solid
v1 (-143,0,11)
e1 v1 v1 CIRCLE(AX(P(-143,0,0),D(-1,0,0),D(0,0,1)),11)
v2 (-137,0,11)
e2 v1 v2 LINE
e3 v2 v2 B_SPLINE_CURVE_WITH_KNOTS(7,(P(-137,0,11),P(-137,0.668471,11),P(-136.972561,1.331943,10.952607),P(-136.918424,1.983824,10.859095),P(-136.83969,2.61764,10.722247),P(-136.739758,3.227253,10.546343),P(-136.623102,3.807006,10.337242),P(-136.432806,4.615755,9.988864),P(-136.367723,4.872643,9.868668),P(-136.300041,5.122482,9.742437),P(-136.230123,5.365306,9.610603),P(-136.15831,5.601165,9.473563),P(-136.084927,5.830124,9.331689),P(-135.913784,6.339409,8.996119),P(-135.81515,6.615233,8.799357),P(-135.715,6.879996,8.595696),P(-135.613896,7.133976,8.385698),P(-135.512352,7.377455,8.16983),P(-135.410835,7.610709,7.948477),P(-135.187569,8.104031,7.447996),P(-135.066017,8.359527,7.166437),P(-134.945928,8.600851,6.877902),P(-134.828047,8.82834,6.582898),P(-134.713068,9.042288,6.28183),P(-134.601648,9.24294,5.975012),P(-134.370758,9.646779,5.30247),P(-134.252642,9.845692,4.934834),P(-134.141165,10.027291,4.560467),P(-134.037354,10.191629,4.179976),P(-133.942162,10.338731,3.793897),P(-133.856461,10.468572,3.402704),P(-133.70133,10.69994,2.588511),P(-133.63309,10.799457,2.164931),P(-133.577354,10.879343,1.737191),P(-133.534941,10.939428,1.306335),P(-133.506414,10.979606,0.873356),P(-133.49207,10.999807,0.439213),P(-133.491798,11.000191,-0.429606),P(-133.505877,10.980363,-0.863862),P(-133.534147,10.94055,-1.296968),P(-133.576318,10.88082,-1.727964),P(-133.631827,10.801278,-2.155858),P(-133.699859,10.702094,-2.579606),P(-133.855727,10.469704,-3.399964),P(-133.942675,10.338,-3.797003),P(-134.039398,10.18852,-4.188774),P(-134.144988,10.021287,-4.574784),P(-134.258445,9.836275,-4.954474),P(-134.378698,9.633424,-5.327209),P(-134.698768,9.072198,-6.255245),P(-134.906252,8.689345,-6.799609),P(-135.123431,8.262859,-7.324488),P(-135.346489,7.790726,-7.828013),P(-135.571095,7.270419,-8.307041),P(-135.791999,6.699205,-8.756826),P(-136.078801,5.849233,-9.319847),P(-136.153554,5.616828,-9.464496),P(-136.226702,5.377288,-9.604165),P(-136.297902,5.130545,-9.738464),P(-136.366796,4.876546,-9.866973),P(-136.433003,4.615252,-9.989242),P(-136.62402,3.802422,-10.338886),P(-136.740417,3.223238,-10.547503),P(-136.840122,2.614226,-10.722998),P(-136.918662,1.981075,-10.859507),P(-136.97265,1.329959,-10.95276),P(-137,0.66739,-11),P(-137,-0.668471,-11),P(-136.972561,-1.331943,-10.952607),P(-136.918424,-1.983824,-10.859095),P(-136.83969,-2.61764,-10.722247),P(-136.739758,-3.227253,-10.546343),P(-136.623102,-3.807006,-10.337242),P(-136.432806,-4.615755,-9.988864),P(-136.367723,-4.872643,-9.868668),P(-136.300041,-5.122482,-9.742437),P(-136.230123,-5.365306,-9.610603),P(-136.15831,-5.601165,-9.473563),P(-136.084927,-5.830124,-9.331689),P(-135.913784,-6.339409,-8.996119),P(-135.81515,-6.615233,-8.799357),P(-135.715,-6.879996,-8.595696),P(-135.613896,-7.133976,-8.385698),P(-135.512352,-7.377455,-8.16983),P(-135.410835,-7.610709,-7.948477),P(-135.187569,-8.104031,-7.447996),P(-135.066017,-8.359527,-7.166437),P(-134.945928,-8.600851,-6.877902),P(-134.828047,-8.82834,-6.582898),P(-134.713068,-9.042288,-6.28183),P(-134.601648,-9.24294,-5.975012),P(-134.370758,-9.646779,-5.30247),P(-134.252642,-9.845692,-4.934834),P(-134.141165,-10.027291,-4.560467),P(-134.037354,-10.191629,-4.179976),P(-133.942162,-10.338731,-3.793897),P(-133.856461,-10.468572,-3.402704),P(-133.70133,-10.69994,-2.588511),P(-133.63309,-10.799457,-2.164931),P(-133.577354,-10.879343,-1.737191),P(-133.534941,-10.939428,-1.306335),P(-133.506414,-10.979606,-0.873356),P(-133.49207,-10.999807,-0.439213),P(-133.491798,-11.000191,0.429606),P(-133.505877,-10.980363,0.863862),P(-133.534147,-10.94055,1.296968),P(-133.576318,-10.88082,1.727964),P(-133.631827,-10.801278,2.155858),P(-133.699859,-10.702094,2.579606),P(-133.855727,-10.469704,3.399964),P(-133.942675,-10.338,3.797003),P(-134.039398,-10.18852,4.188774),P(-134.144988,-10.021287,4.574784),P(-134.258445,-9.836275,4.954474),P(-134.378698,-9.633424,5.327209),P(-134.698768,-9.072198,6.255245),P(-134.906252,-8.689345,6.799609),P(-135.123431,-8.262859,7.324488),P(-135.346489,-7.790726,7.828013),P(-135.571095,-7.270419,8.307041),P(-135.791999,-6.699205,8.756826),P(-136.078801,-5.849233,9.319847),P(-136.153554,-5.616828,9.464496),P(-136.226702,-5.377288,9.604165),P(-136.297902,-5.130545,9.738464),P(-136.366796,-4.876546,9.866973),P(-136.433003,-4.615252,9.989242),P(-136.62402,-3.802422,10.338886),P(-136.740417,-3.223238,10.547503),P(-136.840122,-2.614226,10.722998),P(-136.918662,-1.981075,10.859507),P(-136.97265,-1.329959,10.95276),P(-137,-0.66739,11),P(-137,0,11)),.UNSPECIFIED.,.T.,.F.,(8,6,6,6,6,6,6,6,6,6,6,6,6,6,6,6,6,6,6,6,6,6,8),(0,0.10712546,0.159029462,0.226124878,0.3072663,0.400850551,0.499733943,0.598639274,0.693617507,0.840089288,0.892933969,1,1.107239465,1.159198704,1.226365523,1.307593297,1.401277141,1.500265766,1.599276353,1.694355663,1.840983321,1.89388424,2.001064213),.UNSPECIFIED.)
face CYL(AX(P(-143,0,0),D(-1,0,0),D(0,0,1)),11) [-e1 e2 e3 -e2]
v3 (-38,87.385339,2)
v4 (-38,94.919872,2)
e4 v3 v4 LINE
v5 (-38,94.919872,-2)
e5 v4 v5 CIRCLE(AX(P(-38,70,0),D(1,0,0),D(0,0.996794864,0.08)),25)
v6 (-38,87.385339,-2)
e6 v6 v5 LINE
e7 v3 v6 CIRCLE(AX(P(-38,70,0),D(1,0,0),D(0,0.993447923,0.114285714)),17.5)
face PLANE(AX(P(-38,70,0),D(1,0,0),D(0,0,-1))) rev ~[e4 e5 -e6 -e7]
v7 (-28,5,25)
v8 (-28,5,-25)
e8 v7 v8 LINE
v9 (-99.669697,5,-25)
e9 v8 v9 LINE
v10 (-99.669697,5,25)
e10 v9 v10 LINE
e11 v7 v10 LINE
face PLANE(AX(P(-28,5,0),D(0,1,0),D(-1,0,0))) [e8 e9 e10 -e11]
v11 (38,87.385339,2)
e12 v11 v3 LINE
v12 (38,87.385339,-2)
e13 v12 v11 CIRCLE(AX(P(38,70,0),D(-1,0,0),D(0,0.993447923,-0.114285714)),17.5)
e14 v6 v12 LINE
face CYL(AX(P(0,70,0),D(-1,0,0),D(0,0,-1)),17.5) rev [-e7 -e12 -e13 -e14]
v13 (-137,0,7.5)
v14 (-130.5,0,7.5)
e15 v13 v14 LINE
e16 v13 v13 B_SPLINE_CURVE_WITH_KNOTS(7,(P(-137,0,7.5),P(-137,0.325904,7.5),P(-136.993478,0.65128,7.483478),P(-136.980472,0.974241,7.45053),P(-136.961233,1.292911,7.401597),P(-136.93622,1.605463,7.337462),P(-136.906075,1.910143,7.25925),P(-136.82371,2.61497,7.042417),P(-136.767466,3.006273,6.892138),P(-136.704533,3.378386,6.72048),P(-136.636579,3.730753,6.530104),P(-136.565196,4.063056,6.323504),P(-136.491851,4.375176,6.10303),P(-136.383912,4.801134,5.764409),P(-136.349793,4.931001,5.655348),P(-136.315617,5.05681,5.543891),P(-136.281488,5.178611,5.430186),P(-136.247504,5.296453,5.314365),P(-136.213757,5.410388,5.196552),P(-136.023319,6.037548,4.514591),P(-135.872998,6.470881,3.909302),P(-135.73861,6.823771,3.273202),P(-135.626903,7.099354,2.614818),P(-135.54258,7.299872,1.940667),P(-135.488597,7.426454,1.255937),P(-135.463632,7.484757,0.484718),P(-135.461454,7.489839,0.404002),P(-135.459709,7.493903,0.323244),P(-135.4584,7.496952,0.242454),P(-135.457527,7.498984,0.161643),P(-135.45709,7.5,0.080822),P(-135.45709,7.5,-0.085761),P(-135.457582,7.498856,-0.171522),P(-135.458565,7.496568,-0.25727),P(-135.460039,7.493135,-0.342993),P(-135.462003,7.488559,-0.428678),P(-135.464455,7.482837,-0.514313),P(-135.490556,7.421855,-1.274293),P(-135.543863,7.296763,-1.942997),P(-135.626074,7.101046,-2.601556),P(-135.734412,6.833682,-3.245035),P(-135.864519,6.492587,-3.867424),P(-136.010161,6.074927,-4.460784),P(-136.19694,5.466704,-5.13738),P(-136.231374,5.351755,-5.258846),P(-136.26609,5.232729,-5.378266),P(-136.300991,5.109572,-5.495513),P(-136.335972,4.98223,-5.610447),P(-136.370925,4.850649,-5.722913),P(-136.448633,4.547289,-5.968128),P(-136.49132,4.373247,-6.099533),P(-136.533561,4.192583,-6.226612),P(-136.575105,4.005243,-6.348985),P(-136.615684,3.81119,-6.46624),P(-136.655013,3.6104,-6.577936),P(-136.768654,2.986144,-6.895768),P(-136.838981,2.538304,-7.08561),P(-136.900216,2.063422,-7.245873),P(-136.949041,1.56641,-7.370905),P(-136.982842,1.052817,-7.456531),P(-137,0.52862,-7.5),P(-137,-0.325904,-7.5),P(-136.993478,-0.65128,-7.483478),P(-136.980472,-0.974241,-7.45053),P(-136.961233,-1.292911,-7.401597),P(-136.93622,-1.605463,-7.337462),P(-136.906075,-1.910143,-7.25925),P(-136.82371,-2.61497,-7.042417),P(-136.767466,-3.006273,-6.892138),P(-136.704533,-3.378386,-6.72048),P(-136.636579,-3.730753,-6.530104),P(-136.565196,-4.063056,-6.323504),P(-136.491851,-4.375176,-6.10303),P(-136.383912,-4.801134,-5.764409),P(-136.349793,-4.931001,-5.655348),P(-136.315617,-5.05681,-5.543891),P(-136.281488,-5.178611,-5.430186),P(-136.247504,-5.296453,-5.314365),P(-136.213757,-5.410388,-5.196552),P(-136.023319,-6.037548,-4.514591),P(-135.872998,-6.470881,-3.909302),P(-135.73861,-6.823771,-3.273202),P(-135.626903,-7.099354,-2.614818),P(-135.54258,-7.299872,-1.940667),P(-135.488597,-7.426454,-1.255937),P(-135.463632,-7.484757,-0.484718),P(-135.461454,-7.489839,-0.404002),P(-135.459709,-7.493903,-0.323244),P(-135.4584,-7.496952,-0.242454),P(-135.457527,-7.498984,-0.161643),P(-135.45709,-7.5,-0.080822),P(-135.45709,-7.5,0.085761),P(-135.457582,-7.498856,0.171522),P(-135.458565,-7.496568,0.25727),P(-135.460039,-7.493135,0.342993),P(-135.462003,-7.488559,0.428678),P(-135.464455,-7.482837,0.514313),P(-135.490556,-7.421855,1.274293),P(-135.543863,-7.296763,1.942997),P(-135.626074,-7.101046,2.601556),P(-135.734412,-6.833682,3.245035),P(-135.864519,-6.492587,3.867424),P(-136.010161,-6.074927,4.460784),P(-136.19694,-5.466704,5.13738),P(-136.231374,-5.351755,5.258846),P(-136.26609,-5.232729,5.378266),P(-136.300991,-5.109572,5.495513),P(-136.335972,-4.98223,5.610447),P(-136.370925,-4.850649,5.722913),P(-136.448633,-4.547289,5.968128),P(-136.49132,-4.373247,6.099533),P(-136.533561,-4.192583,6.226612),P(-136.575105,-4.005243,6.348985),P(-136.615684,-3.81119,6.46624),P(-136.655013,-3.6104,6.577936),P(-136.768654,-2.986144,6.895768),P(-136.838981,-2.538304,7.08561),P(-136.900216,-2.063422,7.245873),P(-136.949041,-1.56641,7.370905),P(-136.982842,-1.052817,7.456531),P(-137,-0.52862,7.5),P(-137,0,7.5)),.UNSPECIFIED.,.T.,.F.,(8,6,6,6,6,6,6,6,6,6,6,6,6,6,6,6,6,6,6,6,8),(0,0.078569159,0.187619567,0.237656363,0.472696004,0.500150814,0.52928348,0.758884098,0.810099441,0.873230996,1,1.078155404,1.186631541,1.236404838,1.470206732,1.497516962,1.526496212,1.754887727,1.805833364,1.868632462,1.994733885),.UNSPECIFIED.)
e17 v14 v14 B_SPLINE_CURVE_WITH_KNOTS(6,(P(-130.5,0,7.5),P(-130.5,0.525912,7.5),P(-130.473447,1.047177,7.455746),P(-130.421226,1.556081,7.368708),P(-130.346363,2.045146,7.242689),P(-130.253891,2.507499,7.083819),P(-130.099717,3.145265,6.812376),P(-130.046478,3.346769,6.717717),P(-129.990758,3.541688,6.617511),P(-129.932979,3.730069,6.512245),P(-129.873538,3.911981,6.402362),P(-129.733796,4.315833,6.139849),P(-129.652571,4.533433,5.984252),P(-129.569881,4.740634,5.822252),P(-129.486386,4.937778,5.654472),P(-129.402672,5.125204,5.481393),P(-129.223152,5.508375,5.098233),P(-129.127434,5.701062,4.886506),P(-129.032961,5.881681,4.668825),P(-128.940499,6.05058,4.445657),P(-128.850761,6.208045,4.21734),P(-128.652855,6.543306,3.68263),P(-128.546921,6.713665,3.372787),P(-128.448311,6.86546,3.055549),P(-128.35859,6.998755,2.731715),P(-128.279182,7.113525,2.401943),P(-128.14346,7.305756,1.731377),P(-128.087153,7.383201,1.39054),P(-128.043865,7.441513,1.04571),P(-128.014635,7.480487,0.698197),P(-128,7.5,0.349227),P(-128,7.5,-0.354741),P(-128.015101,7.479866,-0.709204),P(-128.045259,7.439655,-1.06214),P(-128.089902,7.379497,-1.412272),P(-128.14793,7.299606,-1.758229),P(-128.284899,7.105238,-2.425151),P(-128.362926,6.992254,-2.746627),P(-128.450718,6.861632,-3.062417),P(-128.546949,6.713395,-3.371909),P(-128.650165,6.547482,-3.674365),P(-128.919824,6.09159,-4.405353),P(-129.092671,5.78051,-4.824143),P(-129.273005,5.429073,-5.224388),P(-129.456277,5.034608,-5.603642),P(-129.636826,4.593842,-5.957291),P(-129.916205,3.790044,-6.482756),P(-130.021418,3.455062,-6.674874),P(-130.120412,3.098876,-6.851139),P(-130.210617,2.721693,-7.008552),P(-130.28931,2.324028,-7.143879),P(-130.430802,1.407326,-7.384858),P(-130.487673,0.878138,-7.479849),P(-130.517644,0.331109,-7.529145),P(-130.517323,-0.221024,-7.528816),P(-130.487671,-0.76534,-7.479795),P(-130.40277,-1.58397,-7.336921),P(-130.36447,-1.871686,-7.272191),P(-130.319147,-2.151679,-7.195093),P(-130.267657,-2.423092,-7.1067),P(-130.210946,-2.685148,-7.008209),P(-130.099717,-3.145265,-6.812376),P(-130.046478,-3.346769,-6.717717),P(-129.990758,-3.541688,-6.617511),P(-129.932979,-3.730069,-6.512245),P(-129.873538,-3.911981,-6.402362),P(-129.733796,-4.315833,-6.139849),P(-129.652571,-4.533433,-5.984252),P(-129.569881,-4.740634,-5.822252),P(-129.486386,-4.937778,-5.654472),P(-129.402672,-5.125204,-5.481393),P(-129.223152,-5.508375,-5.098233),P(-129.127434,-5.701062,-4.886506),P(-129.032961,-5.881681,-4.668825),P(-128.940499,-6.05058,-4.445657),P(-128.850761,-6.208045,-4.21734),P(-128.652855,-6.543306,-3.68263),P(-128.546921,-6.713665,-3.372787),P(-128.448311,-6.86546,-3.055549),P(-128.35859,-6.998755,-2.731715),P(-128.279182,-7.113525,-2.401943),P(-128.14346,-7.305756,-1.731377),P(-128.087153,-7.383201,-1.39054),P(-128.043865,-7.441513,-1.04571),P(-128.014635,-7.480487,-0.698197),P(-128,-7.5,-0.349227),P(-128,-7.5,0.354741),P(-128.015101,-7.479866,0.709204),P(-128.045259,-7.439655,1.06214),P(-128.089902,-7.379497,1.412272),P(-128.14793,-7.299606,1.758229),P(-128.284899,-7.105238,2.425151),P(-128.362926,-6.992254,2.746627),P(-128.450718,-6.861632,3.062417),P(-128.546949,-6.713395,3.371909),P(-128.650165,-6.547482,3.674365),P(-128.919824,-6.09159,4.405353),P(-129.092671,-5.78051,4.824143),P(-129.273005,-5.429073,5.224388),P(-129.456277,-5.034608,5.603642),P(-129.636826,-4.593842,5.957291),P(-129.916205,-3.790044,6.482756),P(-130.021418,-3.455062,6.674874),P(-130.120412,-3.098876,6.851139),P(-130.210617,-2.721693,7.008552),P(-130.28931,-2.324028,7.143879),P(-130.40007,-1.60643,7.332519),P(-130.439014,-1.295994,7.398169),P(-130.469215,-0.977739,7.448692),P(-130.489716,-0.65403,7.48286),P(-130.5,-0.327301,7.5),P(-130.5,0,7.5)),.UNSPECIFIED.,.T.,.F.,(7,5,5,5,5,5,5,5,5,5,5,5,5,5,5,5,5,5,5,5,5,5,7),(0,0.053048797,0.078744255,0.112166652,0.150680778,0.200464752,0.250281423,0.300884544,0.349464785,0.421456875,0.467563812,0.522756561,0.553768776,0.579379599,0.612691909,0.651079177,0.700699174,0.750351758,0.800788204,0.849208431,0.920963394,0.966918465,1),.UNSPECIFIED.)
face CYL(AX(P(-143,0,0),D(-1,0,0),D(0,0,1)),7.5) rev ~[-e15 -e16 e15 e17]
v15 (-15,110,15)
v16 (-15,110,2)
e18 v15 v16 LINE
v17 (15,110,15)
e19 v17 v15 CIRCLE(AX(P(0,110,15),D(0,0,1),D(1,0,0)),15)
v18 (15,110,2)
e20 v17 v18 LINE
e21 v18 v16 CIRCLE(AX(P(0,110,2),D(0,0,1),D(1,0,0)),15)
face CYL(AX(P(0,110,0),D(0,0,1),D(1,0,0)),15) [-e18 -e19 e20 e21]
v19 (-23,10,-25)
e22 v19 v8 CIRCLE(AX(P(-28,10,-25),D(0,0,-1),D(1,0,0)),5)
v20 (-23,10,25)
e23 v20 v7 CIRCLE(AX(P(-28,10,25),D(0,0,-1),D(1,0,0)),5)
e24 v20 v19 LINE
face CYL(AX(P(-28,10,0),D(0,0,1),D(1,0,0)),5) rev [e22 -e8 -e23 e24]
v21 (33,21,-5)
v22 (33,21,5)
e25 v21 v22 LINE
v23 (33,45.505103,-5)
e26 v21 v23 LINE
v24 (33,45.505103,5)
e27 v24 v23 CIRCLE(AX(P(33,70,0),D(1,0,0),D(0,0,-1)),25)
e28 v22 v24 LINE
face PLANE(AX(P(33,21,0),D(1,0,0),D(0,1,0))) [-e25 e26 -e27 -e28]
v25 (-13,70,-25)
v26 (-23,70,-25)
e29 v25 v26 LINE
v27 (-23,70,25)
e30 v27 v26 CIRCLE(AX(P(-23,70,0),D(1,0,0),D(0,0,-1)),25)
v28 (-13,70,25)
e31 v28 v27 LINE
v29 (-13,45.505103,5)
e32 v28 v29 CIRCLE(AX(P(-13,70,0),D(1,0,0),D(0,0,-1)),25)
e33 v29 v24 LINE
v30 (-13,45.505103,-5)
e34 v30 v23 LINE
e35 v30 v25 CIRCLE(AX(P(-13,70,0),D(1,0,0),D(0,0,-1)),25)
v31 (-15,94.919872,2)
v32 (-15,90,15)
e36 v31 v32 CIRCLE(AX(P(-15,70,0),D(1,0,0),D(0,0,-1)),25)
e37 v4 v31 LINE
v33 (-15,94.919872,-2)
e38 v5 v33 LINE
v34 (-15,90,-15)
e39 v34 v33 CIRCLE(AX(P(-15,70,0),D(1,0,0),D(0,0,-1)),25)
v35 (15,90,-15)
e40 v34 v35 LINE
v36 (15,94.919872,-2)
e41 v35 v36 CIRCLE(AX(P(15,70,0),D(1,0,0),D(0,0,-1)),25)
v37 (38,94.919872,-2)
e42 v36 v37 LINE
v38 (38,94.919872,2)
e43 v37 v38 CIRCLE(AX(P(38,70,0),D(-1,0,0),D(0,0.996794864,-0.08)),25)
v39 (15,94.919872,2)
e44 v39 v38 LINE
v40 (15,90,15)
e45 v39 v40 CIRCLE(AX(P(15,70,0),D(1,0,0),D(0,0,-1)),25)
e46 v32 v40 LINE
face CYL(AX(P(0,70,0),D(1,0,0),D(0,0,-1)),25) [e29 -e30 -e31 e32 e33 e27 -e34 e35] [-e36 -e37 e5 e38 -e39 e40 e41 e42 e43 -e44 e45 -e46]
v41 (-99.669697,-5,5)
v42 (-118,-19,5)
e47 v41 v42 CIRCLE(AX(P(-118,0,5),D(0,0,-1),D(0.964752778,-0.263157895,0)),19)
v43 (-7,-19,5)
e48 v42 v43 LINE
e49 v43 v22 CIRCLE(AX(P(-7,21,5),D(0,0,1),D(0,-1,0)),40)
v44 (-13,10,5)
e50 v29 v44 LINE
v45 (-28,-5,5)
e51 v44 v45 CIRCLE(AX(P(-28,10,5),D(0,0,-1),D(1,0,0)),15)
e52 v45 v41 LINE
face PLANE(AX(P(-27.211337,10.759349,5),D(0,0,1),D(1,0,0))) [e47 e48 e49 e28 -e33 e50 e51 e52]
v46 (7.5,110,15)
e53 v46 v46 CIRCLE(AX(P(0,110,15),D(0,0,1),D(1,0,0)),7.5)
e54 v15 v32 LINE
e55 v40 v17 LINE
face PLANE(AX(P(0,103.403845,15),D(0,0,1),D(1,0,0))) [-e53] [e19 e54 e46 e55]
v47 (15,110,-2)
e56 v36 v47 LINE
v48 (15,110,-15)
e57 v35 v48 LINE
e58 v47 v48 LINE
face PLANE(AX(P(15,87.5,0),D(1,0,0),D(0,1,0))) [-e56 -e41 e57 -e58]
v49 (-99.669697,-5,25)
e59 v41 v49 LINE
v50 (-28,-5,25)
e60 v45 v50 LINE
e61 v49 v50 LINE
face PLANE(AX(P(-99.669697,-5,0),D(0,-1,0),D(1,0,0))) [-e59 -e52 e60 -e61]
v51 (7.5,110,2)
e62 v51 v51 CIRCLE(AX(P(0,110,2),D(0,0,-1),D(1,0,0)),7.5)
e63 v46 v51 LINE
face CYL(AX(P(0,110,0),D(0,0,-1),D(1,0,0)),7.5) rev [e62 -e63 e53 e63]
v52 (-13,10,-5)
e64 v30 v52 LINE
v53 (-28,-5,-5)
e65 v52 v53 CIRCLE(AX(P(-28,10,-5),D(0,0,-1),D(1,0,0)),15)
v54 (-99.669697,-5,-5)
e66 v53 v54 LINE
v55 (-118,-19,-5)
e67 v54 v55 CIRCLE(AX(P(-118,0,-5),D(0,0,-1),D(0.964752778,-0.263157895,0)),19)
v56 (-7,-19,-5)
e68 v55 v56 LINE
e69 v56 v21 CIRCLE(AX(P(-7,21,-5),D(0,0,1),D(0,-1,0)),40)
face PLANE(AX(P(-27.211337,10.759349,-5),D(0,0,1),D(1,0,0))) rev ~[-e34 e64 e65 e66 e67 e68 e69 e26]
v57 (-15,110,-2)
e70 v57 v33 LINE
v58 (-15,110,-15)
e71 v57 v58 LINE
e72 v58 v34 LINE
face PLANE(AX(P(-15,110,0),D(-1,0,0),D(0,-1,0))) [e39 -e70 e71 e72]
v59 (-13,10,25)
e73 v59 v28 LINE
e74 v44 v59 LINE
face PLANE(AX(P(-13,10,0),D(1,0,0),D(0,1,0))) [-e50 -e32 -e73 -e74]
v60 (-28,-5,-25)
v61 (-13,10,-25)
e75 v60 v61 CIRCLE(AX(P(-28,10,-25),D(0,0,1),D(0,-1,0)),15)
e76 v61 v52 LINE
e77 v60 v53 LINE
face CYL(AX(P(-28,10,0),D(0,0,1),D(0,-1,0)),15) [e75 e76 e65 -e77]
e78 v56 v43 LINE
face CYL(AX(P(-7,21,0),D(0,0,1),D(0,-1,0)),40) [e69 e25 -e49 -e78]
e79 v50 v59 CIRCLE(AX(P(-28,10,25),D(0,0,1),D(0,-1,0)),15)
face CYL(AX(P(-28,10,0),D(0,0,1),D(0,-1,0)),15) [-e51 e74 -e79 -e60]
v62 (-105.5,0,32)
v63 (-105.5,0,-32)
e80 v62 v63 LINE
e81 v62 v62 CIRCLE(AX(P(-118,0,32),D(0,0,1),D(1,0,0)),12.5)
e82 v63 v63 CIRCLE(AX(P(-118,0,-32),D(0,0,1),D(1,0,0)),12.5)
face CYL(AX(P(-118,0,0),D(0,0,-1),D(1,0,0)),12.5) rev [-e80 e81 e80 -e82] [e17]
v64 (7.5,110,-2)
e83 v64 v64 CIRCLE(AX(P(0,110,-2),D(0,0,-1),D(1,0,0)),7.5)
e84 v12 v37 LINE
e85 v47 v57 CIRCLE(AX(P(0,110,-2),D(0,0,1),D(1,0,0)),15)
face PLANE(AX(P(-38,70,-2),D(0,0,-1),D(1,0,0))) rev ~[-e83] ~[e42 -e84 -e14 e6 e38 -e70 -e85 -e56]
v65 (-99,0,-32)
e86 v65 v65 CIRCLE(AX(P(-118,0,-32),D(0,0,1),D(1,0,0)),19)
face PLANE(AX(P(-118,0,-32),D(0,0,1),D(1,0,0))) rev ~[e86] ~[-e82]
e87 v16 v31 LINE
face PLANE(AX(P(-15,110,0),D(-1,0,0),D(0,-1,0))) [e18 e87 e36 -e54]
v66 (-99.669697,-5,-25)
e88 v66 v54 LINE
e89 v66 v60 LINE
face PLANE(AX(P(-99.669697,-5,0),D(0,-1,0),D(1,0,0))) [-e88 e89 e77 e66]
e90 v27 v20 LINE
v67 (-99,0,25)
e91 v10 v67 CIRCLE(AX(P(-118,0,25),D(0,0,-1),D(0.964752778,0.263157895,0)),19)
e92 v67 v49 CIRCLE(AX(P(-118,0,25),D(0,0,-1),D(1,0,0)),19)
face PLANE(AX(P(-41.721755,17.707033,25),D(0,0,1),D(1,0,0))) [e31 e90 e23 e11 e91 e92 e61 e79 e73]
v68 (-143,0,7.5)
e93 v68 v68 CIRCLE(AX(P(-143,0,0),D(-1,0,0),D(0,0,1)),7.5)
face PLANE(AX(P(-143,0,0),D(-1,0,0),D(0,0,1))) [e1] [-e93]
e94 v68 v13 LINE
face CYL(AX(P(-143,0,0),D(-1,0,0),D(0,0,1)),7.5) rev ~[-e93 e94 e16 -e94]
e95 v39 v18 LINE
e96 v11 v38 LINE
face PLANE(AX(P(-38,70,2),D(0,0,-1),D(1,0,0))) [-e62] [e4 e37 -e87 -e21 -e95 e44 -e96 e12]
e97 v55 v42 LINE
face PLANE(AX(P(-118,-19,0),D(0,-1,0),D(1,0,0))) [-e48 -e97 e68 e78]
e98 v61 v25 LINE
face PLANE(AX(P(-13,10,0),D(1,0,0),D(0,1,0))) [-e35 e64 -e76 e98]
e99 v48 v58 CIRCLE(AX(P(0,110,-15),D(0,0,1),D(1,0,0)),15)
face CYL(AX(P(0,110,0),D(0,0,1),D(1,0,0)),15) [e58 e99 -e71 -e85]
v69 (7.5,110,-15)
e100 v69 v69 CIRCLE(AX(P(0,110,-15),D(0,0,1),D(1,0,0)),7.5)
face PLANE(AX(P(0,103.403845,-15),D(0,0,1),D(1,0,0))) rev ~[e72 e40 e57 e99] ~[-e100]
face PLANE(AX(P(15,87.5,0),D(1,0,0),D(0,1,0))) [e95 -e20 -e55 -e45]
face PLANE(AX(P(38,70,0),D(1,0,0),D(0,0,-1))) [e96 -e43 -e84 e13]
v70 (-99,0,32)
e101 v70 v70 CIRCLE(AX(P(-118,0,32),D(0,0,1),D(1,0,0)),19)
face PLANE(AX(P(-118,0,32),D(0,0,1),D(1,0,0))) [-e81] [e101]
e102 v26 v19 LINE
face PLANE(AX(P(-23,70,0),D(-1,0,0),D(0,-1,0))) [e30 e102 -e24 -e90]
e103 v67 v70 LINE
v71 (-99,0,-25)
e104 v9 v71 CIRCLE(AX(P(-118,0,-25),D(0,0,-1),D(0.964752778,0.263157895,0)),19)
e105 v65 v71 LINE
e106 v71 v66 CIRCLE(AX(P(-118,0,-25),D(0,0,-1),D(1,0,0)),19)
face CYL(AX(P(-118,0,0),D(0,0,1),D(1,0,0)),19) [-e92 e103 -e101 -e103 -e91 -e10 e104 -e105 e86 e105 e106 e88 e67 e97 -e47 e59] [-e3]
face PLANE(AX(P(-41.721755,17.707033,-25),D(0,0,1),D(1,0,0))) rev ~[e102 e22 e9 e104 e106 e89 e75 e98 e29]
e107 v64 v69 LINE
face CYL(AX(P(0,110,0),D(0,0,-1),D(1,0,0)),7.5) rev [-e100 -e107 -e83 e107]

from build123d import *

# Parameters (mm, degrees)
SKETCH_2_R                      = 25
SKETCH_2_R_2                    = 17.5
EXTRUDE_1_DEPTH                 = 38
SKETCH_3_R                      = 7.5
EXTRUDE_2_DEPTH                 = 15
CUT_EXTRUDE_START               = 70
SKETCH_4_W                      = 76
SKETCH_4_H                      = 4
CUT_EXTRUDE_1_DEPTH             = 64.018795664
EXTRUDE_3_DEPTH                 = 25
EXTRUDE_4_DEPTH                 = 5
SKETCH_5_6_R                    = 19
SKETCH_5_6_R_2                  = 12.5
EXTRUDE_5_DEPTH                 = 32
EXTRUDE_6_REACH                 = 224.284
EXTRUDE_6_END_RADIUS            = 19
SKETCH_7_R                      = 11
SKETCH_7_R_2                    = 7.5
CUT_EXTRUDE_2_REACH             = 224.284
SKETCH_7_2_R                    = 7.5
CUT_EXTRUDE_3_REACH             = 194.608
SKETCH_8_R                      = 17.5
CUT_EXTRUDE_3_DIRECTION_2_DEPTH = 193.608411122


with BuildPart() as part:
    # 草图2 → 凸台-拉伸1 (new, symmetric)
    with BuildSketch(Plane(origin=(0, 0, 0), x_dir=(0, 0, -1), z_dir=(1, 0, 0))):
        with Locations((0, 70)):
            Circle(SKETCH_2_R)
        with Locations((0, 70)):
            Circle(SKETCH_2_R_2, mode=Mode.SUBTRACT)
    extrude(amount=EXTRUDE_1_DEPTH, both=True)

    # 草图3 → 凸台-拉伸2 (add, symmetric)
    with BuildSketch(Plane.XY):
        with BuildLine():
            Line((-15, 110), (-15, 87.5))
            Line((-15, 87.5), (15, 87.5))
            Line((15, 87.5), (15, 110))
            ThreePointArc((15, 110), (0, 125), (-15, 110))
        make_face()
        with Locations((0, 110)):
            Circle(SKETCH_3_R, mode=Mode.SUBTRACT)
    extrude(amount=EXTRUDE_2_DEPTH, both=True)

    # 草图4 → 切除-拉伸1 (cut, through all)
    with BuildSketch(Plane(origin=(0, 0, 0), x_dir=(1, 0, 0), z_dir=(0, 1, 0)).offset(CUT_EXTRUDE_START)):
        Rectangle(SKETCH_4_W, SKETCH_4_H)
    extrude(amount=CUT_EXTRUDE_1_DEPTH, mode=Mode.SUBTRACT)

    # 草图5 → 凸台-拉伸3 (add, symmetric)
    with BuildSketch(Plane.XY):
        with BuildLine():
            Line((-28, 5), (-99.66969722, 5))
            ThreePointArc((-99.66969722, 5), (-99.168168533, 2.522325037), (-99, 0))
            ThreePointArc((-99, 0), (-99.168168533, -2.522325037), (-99.66969722, -5))
            Line((-99.66969722, -5), (-28, -5))
            ThreePointArc((-28, -5), (-17.393398282, -0.606601718), (-13, 10))
            Line((-13, 10), (-13, 70))
            Line((-13, 70), (-23, 70))
            Line((-23, 70), (-23, 10))
            ThreePointArc((-23, 10), (-24.464466094, 6.464466094), (-28, 5))
        make_face()
    extrude(amount=EXTRUDE_3_DEPTH, both=True)

    # 草图5<5> → 凸台-拉伸4 (add, symmetric)
    with BuildSketch(Plane.XY):
        with BuildLine():
            ThreePointArc((-99.66969722, -5), (-106.467437405, -15.099668871), (-118, -19))
            Line((-118, -19), (-7, -19))
            ThreePointArc((-7, -19), (21.284271247, -7.284271247), (33, 21))
            Line((33, 21), (33, 70))
            Line((33, 70), (-13, 70))
            Line((-13, 70), (-13, 10))
            ThreePointArc((-13, 10), (-17.393398282, -0.606601718), (-28, -5))
            Line((-28, -5), (-99.66969722, -5))
        make_face()
    extrude(amount=EXTRUDE_4_DEPTH, both=True)

    # 草图5<6> → 凸台-拉伸5 (add, symmetric)
    with BuildSketch(Plane.XY):
        with Locations((-118, 0)):
            Circle(SKETCH_5_6_R)
        with Locations((-118, 0)):
            Circle(SKETCH_5_6_R_2, mode=Mode.SUBTRACT)
    extrude(amount=EXTRUDE_5_DEPTH, both=True)

    # 凸台-拉伸6: up to this cylinder (the profile starts outside it)
    extrude_6_end = Plane(origin=(-118, 0, -10.688873), z_dir=(0, 0, -1)) * Cylinder(EXTRUDE_6_END_RADIUS, 487.568, mode=Mode.PRIVATE)
    # 草图7 → 凸台-拉伸6 (add, up to the surface)
    with BuildSketch(Plane.ZY.offset(143), mode=Mode.PRIVATE) as extrude_6_sk1:
        Circle(SKETCH_7_R)
        Circle(SKETCH_7_R_2, mode=Mode.SUBTRACT)
    extrude_6_tool1 = extrude(extrude_6_sk1.sketch, amount=-EXTRUDE_6_REACH, mode=Mode.PRIVATE) - extrude_6_end
    add(extrude_6_tool1.solids().sort_by_distance((-143, 0, -10.688873))[0])

    # 草图7<2> → 切除-拉伸2 (cut, up to next)
    with BuildSketch(Plane.ZY.offset(143), mode=Mode.PRIVATE) as cut_extrude_2_sk1:
        Circle(SKETCH_7_2_R)
    cut_extrude_2_tool1 = extrude(cut_extrude_2_sk1.sketch, amount=-CUT_EXTRUDE_2_REACH, mode=Mode.PRIVATE) & part.part
    add(cut_extrude_2_tool1.solids().sort_by_distance((-143, 0, 0))[0], mode=Mode.SUBTRACT)

    # 草图8 → 切除-拉伸3 (cut, up to next)
    with BuildSketch(Plane(origin=(0, 0, 0), x_dir=(0, 0, -1), z_dir=(1, 0, 0)), mode=Mode.PRIVATE) as cut_extrude_3_sk1:
        with Locations((0, 70)):
            Circle(SKETCH_8_R)
    cut_extrude_3_tool1 = extrude(cut_extrude_3_sk1.sketch, amount=-CUT_EXTRUDE_3_REACH, mode=Mode.PRIVATE) & part.part
    add(cut_extrude_3_tool1.solids().sort_by_distance((0, 70, 0))[0], mode=Mode.SUBTRACT)

    # 草图8 → 切除-拉伸3 direction 2 (cut)
    with BuildSketch(Plane(origin=(0, 0, 0), x_dir=(0, 0, -1), z_dir=(1, 0, 0))):
        with Locations((0, 70)):
            Circle(SKETCH_8_R)
    extrude(amount=CUT_EXTRUDE_3_DIRECTION_2_DEPTH, mode=Mode.SUBTRACT)


solid = part.part
